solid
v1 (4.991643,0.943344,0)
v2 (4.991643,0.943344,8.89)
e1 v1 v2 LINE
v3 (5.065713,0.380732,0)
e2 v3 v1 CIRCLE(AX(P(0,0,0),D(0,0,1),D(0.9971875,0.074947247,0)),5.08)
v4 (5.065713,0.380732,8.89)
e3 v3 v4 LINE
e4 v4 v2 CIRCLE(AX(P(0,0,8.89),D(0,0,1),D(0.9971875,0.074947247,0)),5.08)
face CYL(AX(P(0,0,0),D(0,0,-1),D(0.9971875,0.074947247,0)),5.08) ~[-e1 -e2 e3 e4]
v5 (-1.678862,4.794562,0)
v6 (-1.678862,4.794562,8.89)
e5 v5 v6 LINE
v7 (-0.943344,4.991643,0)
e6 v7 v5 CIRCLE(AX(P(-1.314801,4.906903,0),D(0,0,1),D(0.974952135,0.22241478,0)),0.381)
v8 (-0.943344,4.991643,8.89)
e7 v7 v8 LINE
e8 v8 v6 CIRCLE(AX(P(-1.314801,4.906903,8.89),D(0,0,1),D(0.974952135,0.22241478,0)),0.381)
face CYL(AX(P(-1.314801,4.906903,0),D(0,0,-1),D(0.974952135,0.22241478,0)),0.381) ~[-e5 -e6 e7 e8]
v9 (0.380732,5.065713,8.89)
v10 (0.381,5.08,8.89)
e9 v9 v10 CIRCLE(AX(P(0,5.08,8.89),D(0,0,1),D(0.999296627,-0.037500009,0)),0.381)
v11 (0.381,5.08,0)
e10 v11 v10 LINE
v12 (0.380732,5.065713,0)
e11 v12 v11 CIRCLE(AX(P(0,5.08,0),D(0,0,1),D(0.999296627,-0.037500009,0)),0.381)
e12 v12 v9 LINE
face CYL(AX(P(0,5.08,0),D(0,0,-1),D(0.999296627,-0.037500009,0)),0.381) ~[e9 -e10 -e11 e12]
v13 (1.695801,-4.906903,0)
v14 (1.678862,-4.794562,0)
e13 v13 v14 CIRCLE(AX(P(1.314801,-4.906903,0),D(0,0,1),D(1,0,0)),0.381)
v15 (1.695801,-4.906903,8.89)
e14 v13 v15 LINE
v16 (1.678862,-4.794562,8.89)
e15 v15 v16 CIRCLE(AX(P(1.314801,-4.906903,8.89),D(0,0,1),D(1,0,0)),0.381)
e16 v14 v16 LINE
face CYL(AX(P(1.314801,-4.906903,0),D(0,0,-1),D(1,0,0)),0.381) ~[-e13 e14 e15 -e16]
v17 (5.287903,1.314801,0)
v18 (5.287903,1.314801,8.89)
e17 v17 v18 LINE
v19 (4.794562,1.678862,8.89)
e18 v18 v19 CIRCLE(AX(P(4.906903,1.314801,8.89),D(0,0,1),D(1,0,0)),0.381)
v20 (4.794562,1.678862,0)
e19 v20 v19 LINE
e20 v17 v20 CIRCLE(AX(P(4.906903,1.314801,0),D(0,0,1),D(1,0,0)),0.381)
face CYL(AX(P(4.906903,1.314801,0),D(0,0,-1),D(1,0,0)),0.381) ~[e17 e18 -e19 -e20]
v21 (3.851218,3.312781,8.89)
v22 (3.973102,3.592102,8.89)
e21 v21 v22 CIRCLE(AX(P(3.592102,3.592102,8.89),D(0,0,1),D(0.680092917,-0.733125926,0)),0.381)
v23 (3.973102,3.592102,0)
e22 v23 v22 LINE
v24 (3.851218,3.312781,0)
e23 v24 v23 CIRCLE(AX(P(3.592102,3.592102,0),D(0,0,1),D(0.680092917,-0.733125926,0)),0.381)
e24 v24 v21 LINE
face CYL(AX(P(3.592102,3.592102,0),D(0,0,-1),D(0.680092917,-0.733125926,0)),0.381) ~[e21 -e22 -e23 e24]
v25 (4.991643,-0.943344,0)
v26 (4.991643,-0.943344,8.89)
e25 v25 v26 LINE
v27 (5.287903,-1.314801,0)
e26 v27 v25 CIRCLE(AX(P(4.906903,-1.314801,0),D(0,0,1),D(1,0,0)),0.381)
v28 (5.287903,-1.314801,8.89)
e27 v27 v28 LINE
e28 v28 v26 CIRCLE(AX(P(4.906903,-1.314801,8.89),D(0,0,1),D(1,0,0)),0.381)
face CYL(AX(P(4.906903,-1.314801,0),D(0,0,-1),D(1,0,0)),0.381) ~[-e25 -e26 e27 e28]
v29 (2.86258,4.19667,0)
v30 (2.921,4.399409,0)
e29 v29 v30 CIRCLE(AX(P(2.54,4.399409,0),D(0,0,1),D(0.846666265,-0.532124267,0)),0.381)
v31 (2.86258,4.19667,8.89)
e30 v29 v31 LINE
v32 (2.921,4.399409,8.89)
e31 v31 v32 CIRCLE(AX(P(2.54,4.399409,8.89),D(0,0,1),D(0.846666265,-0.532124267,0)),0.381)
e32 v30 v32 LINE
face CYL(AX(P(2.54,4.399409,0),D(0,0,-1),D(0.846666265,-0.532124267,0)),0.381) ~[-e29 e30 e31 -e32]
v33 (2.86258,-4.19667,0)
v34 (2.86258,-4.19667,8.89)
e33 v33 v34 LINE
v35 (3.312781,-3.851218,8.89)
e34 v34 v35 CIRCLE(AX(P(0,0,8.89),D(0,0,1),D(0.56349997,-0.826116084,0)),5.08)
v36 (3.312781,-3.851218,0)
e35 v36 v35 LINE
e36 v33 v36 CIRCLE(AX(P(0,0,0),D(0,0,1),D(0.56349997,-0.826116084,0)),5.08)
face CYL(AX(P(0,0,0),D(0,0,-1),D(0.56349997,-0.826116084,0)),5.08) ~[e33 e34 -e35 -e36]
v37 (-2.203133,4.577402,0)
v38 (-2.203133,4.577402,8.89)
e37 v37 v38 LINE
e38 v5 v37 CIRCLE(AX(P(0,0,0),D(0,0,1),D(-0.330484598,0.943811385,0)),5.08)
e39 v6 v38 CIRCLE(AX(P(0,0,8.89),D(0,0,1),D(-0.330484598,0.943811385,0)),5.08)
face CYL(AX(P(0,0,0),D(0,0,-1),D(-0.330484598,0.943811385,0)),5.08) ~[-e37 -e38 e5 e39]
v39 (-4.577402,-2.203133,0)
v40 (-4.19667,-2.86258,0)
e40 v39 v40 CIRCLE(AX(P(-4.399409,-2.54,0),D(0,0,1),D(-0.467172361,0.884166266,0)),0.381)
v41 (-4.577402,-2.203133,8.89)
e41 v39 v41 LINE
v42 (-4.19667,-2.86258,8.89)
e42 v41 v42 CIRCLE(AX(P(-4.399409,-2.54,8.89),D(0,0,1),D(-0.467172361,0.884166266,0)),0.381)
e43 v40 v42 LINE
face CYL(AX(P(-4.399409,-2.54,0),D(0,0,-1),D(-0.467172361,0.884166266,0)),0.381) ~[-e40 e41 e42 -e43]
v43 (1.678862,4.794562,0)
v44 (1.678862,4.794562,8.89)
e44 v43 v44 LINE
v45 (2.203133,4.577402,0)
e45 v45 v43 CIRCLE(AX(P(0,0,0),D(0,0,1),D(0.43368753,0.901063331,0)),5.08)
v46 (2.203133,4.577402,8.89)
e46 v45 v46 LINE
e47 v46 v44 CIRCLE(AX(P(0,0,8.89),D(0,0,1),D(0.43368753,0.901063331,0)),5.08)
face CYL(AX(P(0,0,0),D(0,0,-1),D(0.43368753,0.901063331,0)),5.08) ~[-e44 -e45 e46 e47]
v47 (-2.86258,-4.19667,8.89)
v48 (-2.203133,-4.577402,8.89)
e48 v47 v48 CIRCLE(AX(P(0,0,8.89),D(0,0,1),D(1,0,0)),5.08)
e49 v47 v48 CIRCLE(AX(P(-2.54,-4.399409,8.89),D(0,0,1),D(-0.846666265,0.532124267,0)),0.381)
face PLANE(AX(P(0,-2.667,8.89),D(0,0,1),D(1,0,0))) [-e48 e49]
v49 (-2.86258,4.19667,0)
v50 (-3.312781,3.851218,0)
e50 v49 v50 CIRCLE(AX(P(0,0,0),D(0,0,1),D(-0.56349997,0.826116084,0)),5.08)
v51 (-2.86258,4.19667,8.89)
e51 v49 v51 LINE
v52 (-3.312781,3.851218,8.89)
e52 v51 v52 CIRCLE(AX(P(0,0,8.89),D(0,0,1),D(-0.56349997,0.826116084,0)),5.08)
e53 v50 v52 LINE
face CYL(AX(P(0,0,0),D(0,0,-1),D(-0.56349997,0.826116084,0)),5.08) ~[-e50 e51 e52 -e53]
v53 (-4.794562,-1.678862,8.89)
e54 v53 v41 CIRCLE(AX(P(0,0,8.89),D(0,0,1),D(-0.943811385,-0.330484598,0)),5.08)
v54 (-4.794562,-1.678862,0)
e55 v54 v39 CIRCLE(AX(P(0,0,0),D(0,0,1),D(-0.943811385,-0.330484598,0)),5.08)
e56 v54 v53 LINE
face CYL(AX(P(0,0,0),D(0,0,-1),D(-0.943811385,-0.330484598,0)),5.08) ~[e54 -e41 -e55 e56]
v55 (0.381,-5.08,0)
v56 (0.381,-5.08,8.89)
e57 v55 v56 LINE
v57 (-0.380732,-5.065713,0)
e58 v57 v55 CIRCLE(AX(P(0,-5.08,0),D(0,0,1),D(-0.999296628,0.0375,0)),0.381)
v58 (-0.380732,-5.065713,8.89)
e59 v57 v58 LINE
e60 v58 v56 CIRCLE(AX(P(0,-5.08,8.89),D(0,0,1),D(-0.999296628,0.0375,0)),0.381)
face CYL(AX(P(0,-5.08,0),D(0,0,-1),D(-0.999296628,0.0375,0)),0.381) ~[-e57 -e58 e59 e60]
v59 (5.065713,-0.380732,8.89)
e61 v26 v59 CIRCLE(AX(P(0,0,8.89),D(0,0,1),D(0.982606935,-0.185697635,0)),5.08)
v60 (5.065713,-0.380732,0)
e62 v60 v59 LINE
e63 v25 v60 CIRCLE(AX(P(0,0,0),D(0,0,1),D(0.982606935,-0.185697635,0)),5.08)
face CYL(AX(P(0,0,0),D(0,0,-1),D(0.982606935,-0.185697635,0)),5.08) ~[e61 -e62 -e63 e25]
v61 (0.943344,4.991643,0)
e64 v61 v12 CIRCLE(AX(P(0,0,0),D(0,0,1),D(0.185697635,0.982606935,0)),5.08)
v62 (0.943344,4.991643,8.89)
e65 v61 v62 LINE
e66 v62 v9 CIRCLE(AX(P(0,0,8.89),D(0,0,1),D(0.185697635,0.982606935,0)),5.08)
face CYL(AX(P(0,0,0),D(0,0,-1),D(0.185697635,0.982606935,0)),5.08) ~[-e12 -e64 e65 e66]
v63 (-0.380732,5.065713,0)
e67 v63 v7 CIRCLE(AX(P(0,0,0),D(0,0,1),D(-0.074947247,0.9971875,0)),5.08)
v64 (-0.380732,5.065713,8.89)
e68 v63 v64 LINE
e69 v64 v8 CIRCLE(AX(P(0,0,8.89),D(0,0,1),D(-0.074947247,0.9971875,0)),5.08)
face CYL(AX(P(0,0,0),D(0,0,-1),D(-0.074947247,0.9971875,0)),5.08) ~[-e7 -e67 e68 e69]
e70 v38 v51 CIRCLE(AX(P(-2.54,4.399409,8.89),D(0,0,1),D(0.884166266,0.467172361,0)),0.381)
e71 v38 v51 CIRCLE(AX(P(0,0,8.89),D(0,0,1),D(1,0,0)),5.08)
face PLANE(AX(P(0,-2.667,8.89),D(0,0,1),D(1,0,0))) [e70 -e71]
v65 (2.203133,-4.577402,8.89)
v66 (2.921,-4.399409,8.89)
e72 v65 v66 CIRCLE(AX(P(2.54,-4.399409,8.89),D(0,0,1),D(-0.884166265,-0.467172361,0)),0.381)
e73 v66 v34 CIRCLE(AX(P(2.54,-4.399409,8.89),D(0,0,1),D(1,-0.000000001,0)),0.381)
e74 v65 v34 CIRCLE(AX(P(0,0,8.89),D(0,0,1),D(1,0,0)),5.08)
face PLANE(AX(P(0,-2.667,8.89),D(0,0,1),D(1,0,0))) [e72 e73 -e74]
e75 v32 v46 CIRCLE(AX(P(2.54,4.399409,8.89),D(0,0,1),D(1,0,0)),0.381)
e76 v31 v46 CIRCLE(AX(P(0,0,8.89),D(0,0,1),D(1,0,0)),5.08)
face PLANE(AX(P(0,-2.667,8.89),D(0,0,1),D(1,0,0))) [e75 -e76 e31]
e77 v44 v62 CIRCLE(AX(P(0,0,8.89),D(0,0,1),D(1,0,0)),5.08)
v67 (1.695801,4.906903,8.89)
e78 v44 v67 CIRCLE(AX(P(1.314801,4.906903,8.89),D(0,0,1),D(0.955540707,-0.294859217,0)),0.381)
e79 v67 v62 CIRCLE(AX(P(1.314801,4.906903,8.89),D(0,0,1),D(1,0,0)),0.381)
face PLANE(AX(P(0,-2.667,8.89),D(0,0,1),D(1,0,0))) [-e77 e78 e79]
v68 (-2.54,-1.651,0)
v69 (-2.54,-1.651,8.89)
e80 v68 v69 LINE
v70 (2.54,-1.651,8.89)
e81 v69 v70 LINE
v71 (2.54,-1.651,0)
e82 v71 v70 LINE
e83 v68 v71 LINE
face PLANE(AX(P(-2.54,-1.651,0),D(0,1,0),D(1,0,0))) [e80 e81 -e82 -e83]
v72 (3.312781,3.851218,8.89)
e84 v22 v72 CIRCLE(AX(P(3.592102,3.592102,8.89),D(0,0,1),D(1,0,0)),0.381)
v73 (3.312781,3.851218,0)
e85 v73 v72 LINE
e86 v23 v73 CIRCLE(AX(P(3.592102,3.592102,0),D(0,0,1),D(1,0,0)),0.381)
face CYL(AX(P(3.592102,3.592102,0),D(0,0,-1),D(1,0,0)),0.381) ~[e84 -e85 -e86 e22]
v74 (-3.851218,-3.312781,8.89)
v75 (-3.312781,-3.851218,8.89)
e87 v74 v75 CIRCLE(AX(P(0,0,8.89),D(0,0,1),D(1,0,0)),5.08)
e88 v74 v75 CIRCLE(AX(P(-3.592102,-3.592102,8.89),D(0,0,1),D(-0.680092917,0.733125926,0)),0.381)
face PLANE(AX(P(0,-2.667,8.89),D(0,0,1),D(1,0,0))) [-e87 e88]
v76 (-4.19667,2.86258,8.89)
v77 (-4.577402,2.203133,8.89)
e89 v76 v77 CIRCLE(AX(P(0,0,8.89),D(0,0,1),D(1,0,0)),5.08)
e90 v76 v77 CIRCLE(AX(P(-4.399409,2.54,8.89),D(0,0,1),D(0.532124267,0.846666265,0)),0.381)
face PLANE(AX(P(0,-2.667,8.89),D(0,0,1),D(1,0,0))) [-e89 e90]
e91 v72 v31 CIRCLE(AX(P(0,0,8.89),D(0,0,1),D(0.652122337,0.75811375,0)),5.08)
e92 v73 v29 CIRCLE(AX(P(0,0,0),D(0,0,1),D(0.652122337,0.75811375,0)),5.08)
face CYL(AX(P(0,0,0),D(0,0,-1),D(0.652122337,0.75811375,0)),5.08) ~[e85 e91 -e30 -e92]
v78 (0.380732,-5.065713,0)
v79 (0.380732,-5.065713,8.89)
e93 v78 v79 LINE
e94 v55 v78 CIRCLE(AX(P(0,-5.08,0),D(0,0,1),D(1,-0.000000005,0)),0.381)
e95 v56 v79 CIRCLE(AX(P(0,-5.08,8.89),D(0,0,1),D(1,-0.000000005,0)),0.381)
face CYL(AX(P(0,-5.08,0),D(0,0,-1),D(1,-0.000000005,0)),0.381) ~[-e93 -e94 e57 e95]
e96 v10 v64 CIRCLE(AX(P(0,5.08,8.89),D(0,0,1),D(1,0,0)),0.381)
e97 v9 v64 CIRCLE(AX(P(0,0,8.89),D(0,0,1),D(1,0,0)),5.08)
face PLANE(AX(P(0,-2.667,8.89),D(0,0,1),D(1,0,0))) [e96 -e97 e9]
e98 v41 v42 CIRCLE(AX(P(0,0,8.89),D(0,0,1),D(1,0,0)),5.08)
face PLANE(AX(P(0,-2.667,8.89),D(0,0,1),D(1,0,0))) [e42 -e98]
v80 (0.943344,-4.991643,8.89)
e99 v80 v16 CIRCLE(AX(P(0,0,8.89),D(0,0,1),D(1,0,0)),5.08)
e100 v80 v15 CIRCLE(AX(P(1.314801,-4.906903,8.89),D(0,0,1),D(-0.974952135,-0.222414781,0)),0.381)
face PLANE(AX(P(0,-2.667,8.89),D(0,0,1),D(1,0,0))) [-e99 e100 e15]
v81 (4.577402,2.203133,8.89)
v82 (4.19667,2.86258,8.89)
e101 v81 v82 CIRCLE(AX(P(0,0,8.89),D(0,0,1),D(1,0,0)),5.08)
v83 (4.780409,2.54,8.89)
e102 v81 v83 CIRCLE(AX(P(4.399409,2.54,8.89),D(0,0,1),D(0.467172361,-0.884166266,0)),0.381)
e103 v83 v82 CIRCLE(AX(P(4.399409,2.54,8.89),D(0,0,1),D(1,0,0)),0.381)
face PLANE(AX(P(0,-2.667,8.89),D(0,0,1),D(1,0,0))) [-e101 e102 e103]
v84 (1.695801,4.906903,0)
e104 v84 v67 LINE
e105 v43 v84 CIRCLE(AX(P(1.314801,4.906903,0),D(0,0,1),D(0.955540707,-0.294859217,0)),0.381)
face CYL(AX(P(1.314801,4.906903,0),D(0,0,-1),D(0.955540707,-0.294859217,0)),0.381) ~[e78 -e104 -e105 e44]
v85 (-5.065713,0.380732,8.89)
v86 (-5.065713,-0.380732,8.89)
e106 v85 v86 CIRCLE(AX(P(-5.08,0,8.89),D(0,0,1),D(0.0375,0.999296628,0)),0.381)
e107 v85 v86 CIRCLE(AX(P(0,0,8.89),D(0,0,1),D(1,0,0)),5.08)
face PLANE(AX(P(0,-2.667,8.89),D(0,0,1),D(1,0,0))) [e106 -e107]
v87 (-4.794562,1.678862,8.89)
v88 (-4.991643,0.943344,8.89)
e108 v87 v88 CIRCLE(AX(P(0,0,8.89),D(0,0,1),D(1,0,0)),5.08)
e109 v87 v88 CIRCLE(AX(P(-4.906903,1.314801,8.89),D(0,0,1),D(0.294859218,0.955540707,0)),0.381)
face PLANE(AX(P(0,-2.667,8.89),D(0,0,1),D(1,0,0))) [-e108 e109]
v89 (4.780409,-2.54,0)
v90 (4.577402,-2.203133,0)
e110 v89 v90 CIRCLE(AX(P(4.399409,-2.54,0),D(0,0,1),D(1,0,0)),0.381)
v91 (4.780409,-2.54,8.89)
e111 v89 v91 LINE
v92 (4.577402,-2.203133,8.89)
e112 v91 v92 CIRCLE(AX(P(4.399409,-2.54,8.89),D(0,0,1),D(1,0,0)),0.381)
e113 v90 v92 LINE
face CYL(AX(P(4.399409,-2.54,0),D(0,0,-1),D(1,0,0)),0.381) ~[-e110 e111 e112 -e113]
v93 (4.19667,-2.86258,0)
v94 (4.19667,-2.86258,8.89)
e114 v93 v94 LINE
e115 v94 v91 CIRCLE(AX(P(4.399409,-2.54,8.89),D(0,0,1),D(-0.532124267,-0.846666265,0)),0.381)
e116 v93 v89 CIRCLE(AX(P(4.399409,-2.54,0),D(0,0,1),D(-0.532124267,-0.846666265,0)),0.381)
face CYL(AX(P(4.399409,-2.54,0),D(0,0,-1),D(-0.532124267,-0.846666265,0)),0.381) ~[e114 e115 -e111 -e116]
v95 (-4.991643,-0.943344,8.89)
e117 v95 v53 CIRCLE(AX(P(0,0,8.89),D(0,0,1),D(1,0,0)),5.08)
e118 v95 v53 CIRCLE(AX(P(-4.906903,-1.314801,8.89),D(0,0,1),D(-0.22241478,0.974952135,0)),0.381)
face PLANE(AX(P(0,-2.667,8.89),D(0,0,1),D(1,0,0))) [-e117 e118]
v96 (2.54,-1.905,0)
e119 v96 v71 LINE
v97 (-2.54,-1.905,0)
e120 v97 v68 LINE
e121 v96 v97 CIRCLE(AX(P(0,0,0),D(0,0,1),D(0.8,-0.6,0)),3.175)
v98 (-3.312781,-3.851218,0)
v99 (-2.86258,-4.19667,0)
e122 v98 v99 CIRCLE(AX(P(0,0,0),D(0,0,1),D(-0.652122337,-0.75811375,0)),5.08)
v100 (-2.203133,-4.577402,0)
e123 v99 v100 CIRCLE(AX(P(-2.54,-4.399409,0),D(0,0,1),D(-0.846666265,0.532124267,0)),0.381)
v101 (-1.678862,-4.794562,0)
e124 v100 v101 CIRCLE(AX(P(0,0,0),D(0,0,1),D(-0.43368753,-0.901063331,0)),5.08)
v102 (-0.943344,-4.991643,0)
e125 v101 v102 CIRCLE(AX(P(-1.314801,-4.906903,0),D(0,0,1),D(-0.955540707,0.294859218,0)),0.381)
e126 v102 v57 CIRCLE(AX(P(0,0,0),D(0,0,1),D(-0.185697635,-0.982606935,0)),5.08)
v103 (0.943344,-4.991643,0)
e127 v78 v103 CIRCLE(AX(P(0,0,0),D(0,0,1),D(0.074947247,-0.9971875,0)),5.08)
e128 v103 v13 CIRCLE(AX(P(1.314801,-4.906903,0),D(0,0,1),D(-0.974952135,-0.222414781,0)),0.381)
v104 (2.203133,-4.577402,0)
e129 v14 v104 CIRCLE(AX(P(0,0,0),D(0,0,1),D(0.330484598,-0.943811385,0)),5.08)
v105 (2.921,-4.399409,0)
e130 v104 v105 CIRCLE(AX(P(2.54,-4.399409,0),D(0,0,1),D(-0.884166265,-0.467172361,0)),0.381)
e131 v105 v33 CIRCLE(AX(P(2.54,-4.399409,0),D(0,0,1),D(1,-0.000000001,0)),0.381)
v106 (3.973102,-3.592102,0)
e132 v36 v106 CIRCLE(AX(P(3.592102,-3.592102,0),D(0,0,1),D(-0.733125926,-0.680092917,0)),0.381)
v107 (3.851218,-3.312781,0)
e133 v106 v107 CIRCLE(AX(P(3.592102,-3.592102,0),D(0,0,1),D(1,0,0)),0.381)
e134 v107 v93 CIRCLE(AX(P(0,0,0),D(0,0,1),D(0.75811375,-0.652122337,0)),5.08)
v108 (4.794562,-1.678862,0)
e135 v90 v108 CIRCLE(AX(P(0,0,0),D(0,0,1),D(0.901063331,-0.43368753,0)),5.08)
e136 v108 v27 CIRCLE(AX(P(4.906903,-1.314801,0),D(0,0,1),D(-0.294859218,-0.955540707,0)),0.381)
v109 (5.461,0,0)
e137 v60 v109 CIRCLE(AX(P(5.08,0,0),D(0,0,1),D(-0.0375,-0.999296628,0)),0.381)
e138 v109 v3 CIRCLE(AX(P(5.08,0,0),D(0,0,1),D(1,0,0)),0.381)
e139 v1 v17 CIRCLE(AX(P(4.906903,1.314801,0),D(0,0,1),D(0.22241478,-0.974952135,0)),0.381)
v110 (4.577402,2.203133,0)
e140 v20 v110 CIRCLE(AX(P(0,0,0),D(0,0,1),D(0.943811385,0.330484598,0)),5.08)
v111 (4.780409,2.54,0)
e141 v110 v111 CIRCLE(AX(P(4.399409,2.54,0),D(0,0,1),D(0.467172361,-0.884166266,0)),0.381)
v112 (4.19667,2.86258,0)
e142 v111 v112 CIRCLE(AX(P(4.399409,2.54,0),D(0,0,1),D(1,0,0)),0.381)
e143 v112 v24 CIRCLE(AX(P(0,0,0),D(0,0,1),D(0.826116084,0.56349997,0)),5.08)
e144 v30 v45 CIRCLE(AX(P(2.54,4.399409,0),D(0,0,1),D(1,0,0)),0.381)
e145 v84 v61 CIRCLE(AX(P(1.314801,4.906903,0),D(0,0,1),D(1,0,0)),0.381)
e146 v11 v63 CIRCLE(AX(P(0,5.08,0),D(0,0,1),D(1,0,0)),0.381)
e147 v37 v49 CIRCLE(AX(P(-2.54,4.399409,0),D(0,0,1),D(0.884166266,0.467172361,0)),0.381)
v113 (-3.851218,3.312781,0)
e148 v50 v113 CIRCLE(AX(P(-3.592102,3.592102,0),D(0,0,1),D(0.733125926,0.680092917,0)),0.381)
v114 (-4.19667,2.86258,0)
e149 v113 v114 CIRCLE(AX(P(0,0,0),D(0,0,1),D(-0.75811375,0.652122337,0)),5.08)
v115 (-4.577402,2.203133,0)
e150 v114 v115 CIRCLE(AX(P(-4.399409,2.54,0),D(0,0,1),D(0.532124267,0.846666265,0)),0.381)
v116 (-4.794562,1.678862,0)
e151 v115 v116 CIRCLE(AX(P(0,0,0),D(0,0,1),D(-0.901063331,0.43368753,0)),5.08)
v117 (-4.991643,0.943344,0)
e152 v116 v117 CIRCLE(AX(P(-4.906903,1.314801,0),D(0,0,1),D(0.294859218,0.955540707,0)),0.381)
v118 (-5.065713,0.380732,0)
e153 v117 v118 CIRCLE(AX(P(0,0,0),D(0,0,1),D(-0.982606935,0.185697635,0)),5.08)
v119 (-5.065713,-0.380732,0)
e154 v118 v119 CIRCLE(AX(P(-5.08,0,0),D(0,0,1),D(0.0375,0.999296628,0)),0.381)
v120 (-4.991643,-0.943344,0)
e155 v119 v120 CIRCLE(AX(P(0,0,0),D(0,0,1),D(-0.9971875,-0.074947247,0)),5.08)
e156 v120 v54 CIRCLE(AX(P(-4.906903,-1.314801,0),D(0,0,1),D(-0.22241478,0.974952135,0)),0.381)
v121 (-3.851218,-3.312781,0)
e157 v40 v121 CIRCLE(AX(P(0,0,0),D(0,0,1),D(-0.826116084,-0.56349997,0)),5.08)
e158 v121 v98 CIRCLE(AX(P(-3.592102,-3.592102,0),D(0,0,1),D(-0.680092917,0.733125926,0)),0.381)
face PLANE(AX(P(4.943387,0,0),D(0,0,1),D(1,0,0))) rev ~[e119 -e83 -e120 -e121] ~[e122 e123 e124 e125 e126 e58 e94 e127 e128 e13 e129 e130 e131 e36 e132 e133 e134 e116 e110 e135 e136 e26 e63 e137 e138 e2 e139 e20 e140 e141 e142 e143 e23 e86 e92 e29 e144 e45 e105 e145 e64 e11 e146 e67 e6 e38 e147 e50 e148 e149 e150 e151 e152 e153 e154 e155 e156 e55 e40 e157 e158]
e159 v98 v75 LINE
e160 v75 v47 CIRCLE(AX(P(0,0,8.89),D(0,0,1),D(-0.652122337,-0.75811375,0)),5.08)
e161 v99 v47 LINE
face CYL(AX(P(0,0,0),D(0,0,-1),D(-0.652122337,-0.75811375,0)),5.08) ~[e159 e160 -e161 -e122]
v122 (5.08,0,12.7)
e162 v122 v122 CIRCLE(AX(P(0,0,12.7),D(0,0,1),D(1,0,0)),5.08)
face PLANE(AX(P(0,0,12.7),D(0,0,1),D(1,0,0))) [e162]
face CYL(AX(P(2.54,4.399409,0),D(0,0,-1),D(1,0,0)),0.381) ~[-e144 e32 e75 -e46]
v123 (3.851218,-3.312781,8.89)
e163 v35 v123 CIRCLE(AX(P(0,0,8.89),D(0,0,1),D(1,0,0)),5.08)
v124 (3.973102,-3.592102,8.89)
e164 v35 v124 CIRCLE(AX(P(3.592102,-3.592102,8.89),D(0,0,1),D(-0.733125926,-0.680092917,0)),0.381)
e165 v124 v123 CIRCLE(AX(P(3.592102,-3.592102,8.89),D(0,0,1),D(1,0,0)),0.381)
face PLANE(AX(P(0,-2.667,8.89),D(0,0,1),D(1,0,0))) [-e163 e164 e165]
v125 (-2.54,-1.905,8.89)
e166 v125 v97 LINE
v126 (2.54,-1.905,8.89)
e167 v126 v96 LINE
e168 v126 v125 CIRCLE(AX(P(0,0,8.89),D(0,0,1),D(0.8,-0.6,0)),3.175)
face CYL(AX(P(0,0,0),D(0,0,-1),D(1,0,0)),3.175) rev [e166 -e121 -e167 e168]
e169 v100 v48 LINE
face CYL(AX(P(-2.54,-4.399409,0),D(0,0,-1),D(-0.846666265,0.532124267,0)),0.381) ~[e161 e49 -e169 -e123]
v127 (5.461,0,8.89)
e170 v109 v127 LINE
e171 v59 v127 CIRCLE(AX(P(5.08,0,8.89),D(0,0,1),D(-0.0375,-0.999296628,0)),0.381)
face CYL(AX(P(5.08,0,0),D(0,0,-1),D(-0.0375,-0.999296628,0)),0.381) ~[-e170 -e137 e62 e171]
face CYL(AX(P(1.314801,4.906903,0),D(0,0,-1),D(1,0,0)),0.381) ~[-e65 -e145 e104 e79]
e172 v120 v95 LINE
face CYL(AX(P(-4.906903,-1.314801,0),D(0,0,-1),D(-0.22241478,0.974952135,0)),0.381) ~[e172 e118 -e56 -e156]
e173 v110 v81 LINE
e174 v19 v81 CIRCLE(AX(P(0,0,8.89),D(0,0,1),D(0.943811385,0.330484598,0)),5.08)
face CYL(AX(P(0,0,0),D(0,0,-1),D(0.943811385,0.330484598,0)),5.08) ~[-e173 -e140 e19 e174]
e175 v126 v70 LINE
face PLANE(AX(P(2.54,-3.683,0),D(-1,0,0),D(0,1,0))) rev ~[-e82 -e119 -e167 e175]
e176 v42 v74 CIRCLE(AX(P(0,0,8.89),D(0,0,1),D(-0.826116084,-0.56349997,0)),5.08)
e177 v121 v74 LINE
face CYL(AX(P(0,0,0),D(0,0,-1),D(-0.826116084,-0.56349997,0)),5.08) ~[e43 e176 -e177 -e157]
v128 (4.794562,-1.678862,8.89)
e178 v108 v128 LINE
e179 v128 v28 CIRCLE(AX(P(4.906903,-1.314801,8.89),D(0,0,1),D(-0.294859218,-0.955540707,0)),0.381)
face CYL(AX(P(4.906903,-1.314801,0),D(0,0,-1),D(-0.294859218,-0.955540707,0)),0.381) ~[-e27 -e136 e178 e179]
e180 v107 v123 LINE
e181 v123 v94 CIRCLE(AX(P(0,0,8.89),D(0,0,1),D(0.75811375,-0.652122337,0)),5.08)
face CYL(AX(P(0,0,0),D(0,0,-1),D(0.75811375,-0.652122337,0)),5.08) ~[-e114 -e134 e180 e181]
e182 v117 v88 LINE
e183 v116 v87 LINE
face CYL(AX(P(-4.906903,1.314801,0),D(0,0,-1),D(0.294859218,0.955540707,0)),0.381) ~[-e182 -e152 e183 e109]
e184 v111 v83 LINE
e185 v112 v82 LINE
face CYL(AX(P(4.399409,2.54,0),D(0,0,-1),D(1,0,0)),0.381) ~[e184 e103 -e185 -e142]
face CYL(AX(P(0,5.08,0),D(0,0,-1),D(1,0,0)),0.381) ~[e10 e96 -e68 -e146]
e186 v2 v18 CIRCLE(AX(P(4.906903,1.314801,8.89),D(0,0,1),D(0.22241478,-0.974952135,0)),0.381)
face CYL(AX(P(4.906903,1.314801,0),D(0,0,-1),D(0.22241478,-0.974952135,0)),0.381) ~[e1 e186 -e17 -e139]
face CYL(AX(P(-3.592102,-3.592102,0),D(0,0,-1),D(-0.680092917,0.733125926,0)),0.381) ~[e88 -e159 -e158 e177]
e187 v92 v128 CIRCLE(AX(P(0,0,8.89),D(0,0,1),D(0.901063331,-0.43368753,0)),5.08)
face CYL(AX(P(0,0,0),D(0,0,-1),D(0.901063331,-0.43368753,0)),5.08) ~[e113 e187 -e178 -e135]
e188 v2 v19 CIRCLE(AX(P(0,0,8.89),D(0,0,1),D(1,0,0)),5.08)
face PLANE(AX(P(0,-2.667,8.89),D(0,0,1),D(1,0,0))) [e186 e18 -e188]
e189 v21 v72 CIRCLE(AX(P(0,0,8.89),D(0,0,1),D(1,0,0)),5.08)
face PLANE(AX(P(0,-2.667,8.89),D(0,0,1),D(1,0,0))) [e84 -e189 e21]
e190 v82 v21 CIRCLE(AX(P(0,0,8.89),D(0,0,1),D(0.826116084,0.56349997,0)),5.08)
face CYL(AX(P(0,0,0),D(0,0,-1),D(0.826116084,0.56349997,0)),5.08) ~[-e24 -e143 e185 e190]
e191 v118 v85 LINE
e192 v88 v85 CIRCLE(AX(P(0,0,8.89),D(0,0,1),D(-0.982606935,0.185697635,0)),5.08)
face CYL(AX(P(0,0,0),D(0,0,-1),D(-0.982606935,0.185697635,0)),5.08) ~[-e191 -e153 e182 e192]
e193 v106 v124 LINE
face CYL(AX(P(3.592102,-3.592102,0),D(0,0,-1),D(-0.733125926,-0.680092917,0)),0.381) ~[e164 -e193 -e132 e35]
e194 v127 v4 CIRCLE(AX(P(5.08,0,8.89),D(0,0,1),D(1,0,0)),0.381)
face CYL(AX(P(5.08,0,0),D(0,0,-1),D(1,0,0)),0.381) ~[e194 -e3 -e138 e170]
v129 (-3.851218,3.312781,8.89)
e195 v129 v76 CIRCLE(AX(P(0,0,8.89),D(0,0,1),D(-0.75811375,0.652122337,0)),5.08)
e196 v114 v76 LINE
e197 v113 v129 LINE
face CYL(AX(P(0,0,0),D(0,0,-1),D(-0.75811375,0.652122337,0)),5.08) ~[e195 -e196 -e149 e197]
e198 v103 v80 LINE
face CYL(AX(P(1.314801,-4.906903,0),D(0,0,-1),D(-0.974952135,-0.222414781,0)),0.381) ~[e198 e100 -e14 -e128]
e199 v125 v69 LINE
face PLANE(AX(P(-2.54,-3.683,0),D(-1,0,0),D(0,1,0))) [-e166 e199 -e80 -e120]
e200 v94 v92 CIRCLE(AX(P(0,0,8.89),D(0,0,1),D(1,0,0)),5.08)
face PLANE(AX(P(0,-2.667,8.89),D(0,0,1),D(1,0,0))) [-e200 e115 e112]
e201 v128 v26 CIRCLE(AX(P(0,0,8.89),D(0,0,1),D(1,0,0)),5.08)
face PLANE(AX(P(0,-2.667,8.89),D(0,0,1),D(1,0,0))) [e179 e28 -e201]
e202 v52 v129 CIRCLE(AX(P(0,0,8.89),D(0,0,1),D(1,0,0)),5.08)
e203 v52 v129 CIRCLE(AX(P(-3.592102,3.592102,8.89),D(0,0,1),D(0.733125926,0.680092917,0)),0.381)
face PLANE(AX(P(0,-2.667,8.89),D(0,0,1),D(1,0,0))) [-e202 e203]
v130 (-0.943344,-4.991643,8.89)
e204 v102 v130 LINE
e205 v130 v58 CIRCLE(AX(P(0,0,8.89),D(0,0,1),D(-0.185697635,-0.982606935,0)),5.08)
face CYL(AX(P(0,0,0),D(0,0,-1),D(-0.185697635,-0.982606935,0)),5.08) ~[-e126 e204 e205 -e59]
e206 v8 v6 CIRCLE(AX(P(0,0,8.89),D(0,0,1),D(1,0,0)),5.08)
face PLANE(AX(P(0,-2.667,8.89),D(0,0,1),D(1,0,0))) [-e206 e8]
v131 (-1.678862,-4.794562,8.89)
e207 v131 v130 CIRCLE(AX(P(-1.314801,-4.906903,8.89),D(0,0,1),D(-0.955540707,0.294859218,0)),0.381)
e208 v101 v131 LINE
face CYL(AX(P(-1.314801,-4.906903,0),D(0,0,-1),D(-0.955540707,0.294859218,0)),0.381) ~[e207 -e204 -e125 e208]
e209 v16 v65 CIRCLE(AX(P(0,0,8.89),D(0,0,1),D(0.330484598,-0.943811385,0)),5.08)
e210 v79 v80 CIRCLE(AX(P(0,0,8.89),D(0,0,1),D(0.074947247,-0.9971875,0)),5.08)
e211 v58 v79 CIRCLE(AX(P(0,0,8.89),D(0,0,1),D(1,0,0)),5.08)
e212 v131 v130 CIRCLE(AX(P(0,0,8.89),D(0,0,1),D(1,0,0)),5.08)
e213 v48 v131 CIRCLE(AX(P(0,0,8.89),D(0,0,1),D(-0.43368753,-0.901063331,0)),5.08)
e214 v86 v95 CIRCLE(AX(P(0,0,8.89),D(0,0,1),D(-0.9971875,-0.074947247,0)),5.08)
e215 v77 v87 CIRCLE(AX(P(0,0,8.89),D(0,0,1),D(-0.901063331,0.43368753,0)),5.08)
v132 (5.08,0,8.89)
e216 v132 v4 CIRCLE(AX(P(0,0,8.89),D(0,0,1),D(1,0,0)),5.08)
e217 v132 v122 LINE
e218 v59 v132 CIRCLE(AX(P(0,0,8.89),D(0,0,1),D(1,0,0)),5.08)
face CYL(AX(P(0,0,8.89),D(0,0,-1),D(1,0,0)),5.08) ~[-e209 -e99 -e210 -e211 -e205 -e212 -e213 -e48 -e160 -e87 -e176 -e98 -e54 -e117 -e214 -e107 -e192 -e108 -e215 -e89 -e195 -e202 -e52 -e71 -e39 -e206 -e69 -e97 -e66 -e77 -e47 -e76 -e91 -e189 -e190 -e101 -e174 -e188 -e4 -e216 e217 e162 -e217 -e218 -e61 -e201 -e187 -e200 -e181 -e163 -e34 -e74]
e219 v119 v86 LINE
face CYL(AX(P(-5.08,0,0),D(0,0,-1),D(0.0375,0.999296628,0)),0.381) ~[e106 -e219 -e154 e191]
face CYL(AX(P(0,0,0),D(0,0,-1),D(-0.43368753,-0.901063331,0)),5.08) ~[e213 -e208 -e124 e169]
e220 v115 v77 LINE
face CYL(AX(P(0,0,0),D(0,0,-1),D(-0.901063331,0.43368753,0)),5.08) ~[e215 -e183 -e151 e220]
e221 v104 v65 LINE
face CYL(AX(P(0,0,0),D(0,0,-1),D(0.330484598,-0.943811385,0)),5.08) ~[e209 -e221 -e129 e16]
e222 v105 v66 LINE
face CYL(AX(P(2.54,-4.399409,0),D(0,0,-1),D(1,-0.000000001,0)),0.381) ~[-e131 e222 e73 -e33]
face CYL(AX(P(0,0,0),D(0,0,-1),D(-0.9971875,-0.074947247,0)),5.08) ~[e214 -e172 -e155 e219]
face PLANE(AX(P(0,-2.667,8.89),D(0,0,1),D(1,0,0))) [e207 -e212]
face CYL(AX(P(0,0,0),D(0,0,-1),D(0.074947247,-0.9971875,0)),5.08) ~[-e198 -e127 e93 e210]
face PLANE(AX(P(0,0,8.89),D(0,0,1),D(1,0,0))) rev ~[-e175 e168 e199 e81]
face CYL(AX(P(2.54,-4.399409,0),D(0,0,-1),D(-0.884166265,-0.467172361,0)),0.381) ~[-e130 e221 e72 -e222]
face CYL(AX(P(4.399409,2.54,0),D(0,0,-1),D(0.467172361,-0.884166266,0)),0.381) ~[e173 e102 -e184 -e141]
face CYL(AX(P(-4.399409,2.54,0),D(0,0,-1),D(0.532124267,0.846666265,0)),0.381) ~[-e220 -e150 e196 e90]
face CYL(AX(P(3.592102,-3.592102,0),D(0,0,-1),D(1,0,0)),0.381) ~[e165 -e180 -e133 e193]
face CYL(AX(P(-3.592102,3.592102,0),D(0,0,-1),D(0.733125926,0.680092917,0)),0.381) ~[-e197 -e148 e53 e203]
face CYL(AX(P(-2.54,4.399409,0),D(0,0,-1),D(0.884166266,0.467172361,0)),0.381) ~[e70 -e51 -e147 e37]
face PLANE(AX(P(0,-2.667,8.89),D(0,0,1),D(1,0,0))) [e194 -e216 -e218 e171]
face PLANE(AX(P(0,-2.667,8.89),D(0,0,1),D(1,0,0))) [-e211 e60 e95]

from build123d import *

# Parameters (mm, degrees)
F0_R     = 3.175
F2_DEPTH = 8.89
F1_W     = 5.08
F1_H     = 2.032
F3_DEPTH = 8.89
F5_R     = 5.08
F6_DEPTH = 3.81


with BuildPart() as f2:
    # F0 (on Top) → F2 (new body)
    with BuildSketch(Plane.XY):
        with BuildLine():
            ThreePointArc((5.0657125, -0.3807320151), (5.0764268684, -0.1905), (5.08, 0))
            ThreePointArc((5.08, 0), (5.0764268684, 0.1905), (5.0657125, 0.3807320151))
            ThreePointArc((5.0657125, 0.3807320151), (4.699, 0), (5.0657125, -0.3807320151))
        make_face()
        with BuildLine():
            ThreePointArc((5.0657125, 0.3807320151), (5.0764268684, 0.1905), (5.08, 0))
            ThreePointArc((5.08, 0), (5.0764268684, -0.1905), (5.0657125, -0.3807320151))
            ThreePointArc((5.0657125, -0.3807320151), (5.3443080234, -0.2744125885), (5.461, 0))
            ThreePointArc((5.461, 0), (5.3443080234, 0.2744125885), (5.0657125, 0.3807320151))
        make_face()
        with BuildLine():
            ThreePointArc((5.0657125, -0.3807320151), (4.699, 0), (5.0657125, 0.3807320151))
            ThreePointArc((5.0657125, 0.3807320151), (5.0365398958, 0.6630730565), (4.9916432289, 0.9433439857))
            ThreePointArc((4.9916432289, 0.9433439857), (4.5388854577, 1.2161906929), (4.7945618357, 1.6788617583))
            ThreePointArc((4.7945618357, 1.6788617583), (4.6933080252, 1.9440318364), (4.5774017208, 2.2031326529))
            ThreePointArc((4.5774017208, 2.2031326529), (4.0694533724, 2.3495), (4.1966697057, 2.8625798471))
            ThreePointArc((4.1966697057, 2.8625798471), (4.0302349687, 3.0925080594), (3.85121785, 3.3127814706))
            ThreePointArc((3.85121785, 3.3127814706), (3.3226947648, 3.3226947648), (3.3127814706, 3.85121785))
            ThreePointArc((3.3127814706, 3.85121785), (3.0925080594, 4.0302349687), (2.8625798471, 4.1966697057))
            ThreePointArc((2.8625798471, 4.1966697057), (2.3495, 4.0694533724), (2.2031326529, 4.5774017208))
            ThreePointArc((2.2031326529, 4.5774017208), (1.9440318364, 4.6933080252), (1.6788617583, 4.7945618357))
            ThreePointArc((1.6788617583, 4.7945618357), (1.2161906929, 4.5388854577), (0.9433439857, 4.9916432289))
            ThreePointArc((0.9433439857, 4.9916432289), (0.6630730565, 5.0365398958), (0.3807320151, 5.0657125))
            ThreePointArc((0.3807320151, 5.0657125), (0, 4.699), (-0.3807320151, 5.0657125))
            ThreePointArc((-0.3807320151, 5.0657125), (-0.6630730565, 5.0365398958), (-0.9433439857, 4.9916432289))
            ThreePointArc((-0.9433439857, 4.9916432289), (-0.9361940753, 4.9495410513), (-0.9338007491, 4.9069031975))
            ThreePointArc((-0.9338007491, 4.9069031975), (-1.2579951354, 4.5301617448), (-1.6788617583, 4.7945618357))
            ThreePointArc((-1.6788617583, 4.7945618357), (-1.9440318364, 4.6933080252), (-2.2031326529, 4.5774017208))
            ThreePointArc((-2.2031326529, 4.5774017208), (-2.1701977155, 4.4911002197), (-2.159, 4.3994090512))
            ThreePointArc((-2.159, 4.3994090512), (-2.4345057389, 4.0333052942), (-2.8625798471, 4.1966697057))
            ThreePointArc((-2.8625798471, 4.1966697057), (-3.0925080594, 4.0302349687), (-3.3127814706, 3.85121785))
            ThreePointArc((-3.3127814706, 3.85121785), (-3.2374319728, 3.7312780703), (-3.2111024484, 3.5921024484))
            ThreePointArc((-3.2111024484, 3.5921024484), (-3.439724576, 3.242900524), (-3.85121785, 3.3127814706))
            ThreePointArc((-3.85121785, 3.3127814706), (-4.0302349687, 3.0925080594), (-4.1966697057, 2.8625798471))
            ThreePointArc((-4.1966697057, 2.8625798471), (-4.0659388947, 2.7242787418), (-4.0184090512, 2.54))
            ThreePointArc((-4.0184090512, 2.54), (-4.2027547951, 2.2136748499), (-4.5774017208, 2.2031326529))
            ThreePointArc((-4.5774017208, 2.2031326529), (-4.6933080252, 1.9440318364), (-4.7945618357, 1.6788617583))
            ThreePointArc((-4.7945618357, 1.6788617583), (-4.6003391269, 1.5410295505), (-4.5259031975, 1.3148007491))
            ThreePointArc((-4.5259031975, 1.3148007491), (-4.6693373666, 1.0169358872), (-4.9916432289, 0.9433439857))
            ThreePointArc((-4.9916432289, 0.9433439857), (-5.0365398958, 0.6630730565), (-5.0657125, 0.3807320151))
            ThreePointArc((-5.0657125, 0.3807320151), (-4.8055874115, 0.2643080234), (-4.699, 0))
            ThreePointArc((-4.699, 0), (-4.8055874115, -0.2643080234), (-5.0657125, -0.3807320151))
            ThreePointArc((-5.0657125, -0.3807320151), (-5.0365398958, -0.6630730565), (-4.9916432289, -0.9433439857))
            ThreePointArc((-4.9916432289, -0.9433439857), (-4.6693373666, -1.0169358872), (-4.5259031975, -1.3148007491))
            ThreePointArc((-4.5259031975, -1.3148007491), (-4.6003391269, -1.5410295505), (-4.7945618357, -1.6788617583))
            ThreePointArc((-4.7945618357, -1.6788617583), (-4.6933080252, -1.9440318364), (-4.5774017208, -2.2031326529))
            ThreePointArc((-4.5774017208, -2.2031326529), (-4.2027547951, -2.2136748499), (-4.0184090512, -2.54))
            ThreePointArc((-4.0184090512, -2.54), (-4.0659388947, -2.7242787418), (-4.1966697057, -2.8625798471))
            ThreePointArc((-4.1966697057, -2.8625798471), (-4.0302349687, -3.0925080594), (-3.85121785, -3.3127814706))
            ThreePointArc((-3.85121785, -3.3127814706), (-3.439724576, -3.242900524), (-3.2111024484, -3.5921024484))
            ThreePointArc((-3.2111024484, -3.5921024484), (-3.2374319728, -3.7312780703), (-3.3127814706, -3.85121785))
            ThreePointArc((-3.3127814706, -3.85121785), (-3.0925080594, -4.0302349687), (-2.8625798471, -4.1966697057))
            ThreePointArc((-2.8625798471, -4.1966697057), (-2.4345057389, -4.0333052942), (-2.159, -4.3994090512))
            ThreePointArc((-2.159, -4.3994090512), (-2.1701977155, -4.4911002197), (-2.2031326529, -4.5774017208))
            ThreePointArc((-2.2031326529, -4.5774017208), (-1.9440318364, -4.6933080252), (-1.6788617583, -4.7945618357))
            ThreePointArc((-1.6788617583, -4.7945618357), (-1.2579951354, -4.5301617448), (-0.9338007491, -4.9069031975))
            ThreePointArc((-0.9338007491, -4.9069031975), (-0.9361940753, -4.9495410513), (-0.9433439857, -4.9916432289))
            ThreePointArc((-0.9433439857, -4.9916432289), (-0.6630730565, -5.0365398958), (-0.3807320151, -5.0657125))
            ThreePointArc((-0.3807320151, -5.0657125), (0, -4.699), (0.3807320151, -5.0657125))
            ThreePointArc((0.3807320151, -5.0657125), (0.6630730565, -5.0365398958), (0.9433439857, -4.9916432289))
            ThreePointArc((0.9433439857, -4.9916432289), (1.2161906929, -4.5388854577), (1.6788617583, -4.7945618357))
            ThreePointArc((1.6788617583, -4.7945618357), (1.9440318364, -4.6933080252), (2.2031326529, -4.5774017208))
            ThreePointArc((2.2031326529, -4.5774017208), (2.3495, -4.0694533724), (2.8625798471, -4.1966697057))
            ThreePointArc((2.8625798471, -4.1966697057), (3.0925080594, -4.0302349687), (3.3127814706, -3.85121785))
            ThreePointArc((3.3127814706, -3.85121785), (3.3226947648, -3.3226947648), (3.85121785, -3.3127814706))
            ThreePointArc((3.85121785, -3.3127814706), (4.0302349687, -3.0925080594), (4.1966697057, -2.8625798471))
            ThreePointArc((4.1966697057, -2.8625798471), (4.0694533724, -2.3495), (4.5774017208, -2.2031326529))
            ThreePointArc((4.5774017208, -2.2031326529), (4.6933080252, -1.9440318364), (4.7945618357, -1.6788617583))
            ThreePointArc((4.7945618357, -1.6788617583), (4.5388854577, -1.2161906929), (4.9916432289, -0.9433439857))
            ThreePointArc((4.9916432289, -0.9433439857), (5.0365398958, -0.6630730565), (5.0657125, -0.3807320151))
        make_face()
        Circle(F0_R, mode=Mode.SUBTRACT)
        with BuildLine():
            ThreePointArc((4.7945618357, 1.6788617583), (4.5388854577, 1.2161906929), (4.9916432289, 0.9433439857))
            ThreePointArc((4.9916432289, 0.9433439857), (4.9069031975, 1.3148007491), (4.7945618357, 1.6788617583))
        make_face()
        with BuildLine():
            ThreePointArc((4.7945618357, 1.6788617583), (4.9069031975, 1.3148007491), (4.9916432289, 0.9433439857))
            ThreePointArc((4.9916432289, 0.9433439857), (5.2047680595, 1.0772349182), (5.2879031975, 1.3148007491))
            ThreePointArc((5.2879031975, 1.3148007491), (5.1331319989, 1.6213648198), (4.7945618357, 1.6788617583))
        make_face()
        with BuildLine():
            ThreePointArc((5.2879031975, -1.3148007491), (5.2047680595, -1.0772349182), (4.9916432289, -0.9433439857))
            ThreePointArc((4.9916432289, -0.9433439857), (4.9069031975, -1.3148007491), (4.7945618357, -1.6788617583))
            ThreePointArc((4.7945618357, -1.6788617583), (5.1331319989, -1.6213648198), (5.2879031975, -1.3148007491))
        make_face()
        with BuildLine():
            ThreePointArc((4.7945618357, -1.6788617583), (4.9069031975, -1.3148007491), (4.9916432289, -0.9433439857))
            ThreePointArc((4.9916432289, -0.9433439857), (4.5388854577, -1.2161906929), (4.7945618357, -1.6788617583))
        make_face()
        with BuildLine():
            ThreePointArc((4.1966697057, 2.8625798471), (4.0694533724, 2.3495), (4.5774017208, 2.2031326529))
            ThreePointArc((4.5774017208, 2.2031326529), (4.3994090512, 2.54), (4.1966697057, 2.8625798471))
        make_face()
        with BuildLine():
            ThreePointArc((4.1966697057, 2.8625798471), (4.3994090512, 2.54), (4.5774017208, 2.2031326529))
            ThreePointArc((4.5774017208, 2.2031326529), (4.7257342013, 2.3433457439), (4.7804090512, 2.54))
            ThreePointArc((4.7804090512, 2.54), (4.583687793, 2.8734701566), (4.1966697057, 2.8625798471))
        make_face()
        with BuildLine():
            ThreePointArc((4.7804090512, -2.54), (4.7257342013, -2.3433457439), (4.5774017208, -2.2031326529))
            ThreePointArc((4.5774017208, -2.2031326529), (4.3994090512, -2.54), (4.1966697057, -2.8625798471))
            ThreePointArc((4.1966697057, -2.8625798471), (4.583687793, -2.8734701566), (4.7804090512, -2.54))
        make_face()
        with BuildLine():
            ThreePointArc((4.1966697057, -2.8625798471), (4.3994090512, -2.54), (4.5774017208, -2.2031326529))
            ThreePointArc((4.5774017208, -2.2031326529), (4.0694533724, -2.3495), (4.1966697057, -2.8625798471))
        make_face()
        with BuildLine():
            ThreePointArc((3.3127814706, 3.85121785), (3.3226947648, 3.3226947648), (3.85121785, 3.3127814706))
            ThreePointArc((3.85121785, 3.3127814706), (3.5921024484, 3.5921024484), (3.3127814706, 3.85121785))
        make_face()
        with BuildLine():
            ThreePointArc((3.3127814706, 3.85121785), (3.5921024484, 3.5921024484), (3.85121785, 3.3127814706))
            ThreePointArc((3.85121785, 3.3127814706), (3.9413043728, 3.439724576), (3.9731024484, 3.5921024484))
            ThreePointArc((3.9731024484, 3.5921024484), (3.7312780703, 3.9467729241), (3.3127814706, 3.85121785))
        make_face()
        with BuildLine():
            ThreePointArc((3.9731024484, -3.5921024484), (3.9413043728, -3.439724576), (3.85121785, -3.3127814706))
            ThreePointArc((3.85121785, -3.3127814706), (3.5921024484, -3.5921024484), (3.3127814706, -3.85121785))
            ThreePointArc((3.3127814706, -3.85121785), (3.7312780703, -3.9467729241), (3.9731024484, -3.5921024484))
        make_face()
        with BuildLine():
            ThreePointArc((3.3127814706, -3.85121785), (3.5921024484, -3.5921024484), (3.85121785, -3.3127814706))
            ThreePointArc((3.85121785, -3.3127814706), (3.3226947648, -3.3226947648), (3.3127814706, -3.85121785))
        make_face()
        with BuildLine():
            ThreePointArc((2.2031326529, 4.5774017208), (2.3495, 4.0694533724), (2.8625798471, 4.1966697057))
            ThreePointArc((2.8625798471, 4.1966697057), (2.54, 4.3994090512), (2.2031326529, 4.5774017208))
        make_face()
        with BuildLine():
            ThreePointArc((2.2031326529, 4.5774017208), (2.54, 4.3994090512), (2.8625798471, 4.1966697057))
            ThreePointArc((2.8625798471, 4.1966697057), (2.906103757, 4.2939147901), (2.921, 4.3994090512))
            ThreePointArc((2.921, 4.3994090512), (2.6316911684, 4.7692113357), (2.2031326529, 4.5774017208))
        make_face()
        with BuildLine():
            ThreePointArc((2.921, -4.3994090512), (2.906103757, -4.2939147901), (2.8625798471, -4.1966697057))
            ThreePointArc((2.8625798471, -4.1966697057), (2.54, -4.3994090512), (2.2031326529, -4.5774017208))
            ThreePointArc((2.2031326529, -4.5774017208), (2.6316911684, -4.7692113357), (2.921, -4.3994090512))
        make_face()
        with BuildLine():
            ThreePointArc((2.2031326529, -4.5774017208), (2.54, -4.3994090512), (2.8625798471, -4.1966697057))
            ThreePointArc((2.8625798471, -4.1966697057), (2.3495, -4.0694533724), (2.2031326529, -4.5774017208))
        make_face()
        with BuildLine():
            ThreePointArc((0.9433439857, 4.9916432289), (1.2161906929, 4.5388854577), (1.6788617583, 4.7945618357))
            ThreePointArc((1.6788617583, 4.7945618357), (1.3148007491, 4.9069031975), (0.9433439857, 4.9916432289))
        make_face()
        with BuildLine():
            ThreePointArc((0.9433439857, 4.9916432289), (1.3148007491, 4.9069031975), (1.6788617583, 4.7945618357))
            ThreePointArc((1.6788617583, 4.7945618357), (1.6915422019, 4.8500975839), (1.6958007491, 4.9069031975))
            ThreePointArc((1.6958007491, 4.9069031975), (1.3574386028, 5.2855098713), (0.9433439857, 4.9916432289))
        make_face()
        with BuildLine():
            ThreePointArc((1.6958007491, -4.9069031975), (1.6915422019, -4.8500975839), (1.6788617583, -4.7945618357))
            ThreePointArc((1.6788617583, -4.7945618357), (1.3148007491, -4.9069031975), (0.9433439857, -4.9916432289))
            ThreePointArc((0.9433439857, -4.9916432289), (1.3574386028, -5.2855098713), (1.6958007491, -4.9069031975))
        make_face()
        with BuildLine():
            ThreePointArc((0.9433439857, -4.9916432289), (1.3148007491, -4.9069031975), (1.6788617583, -4.7945618357))
            ThreePointArc((1.6788617583, -4.7945618357), (1.2161906929, -4.5388854577), (0.9433439857, -4.9916432289))
        make_face()
        with BuildLine():
            ThreePointArc((-0.3807320151, 5.0657125), (0, 4.699), (0.3807320151, 5.0657125))
            ThreePointArc((0.3807320151, 5.0657125), (0, 5.08), (-0.3807320151, 5.0657125))
        make_face()
        with BuildLine():
            ThreePointArc((-0.3807320151, 5.0657125), (0, 5.08), (0.3807320151, 5.0657125))
            ThreePointArc((0.3807320151, 5.0657125), (0.3809329979, 5.0728549935), (0.381, 5.08))
            ThreePointArc((0.381, 5.08), (-0.0071450065, 5.4609329979), (-0.3807320151, 5.0657125))
        make_face()
        with BuildLine():
            ThreePointArc((0.381, -5.08), (0.3809329979, -5.0728549935), (0.3807320151, -5.0657125))
            ThreePointArc((0.3807320151, -5.0657125), (0, -5.08), (-0.3807320151, -5.0657125))
            ThreePointArc((-0.3807320151, -5.0657125), (-0.0071450065, -5.4609329979), (0.381, -5.08))
        make_face()
        with BuildLine():
            ThreePointArc((-0.3807320151, -5.0657125), (0, -5.08), (0.3807320151, -5.0657125))
            ThreePointArc((0.3807320151, -5.0657125), (0, -4.699), (-0.3807320151, -5.0657125))
        make_face()
        with BuildLine():
            ThreePointArc((-0.9338007491, 4.9069031975), (-0.9361940753, 4.9495410513), (-0.9433439857, 4.9916432289))
            ThreePointArc((-0.9433439857, 4.9916432289), (-1.3148007491, 4.9069031975), (-1.6788617583, 4.7945618357))
            ThreePointArc((-1.6788617583, 4.7945618357), (-1.2579951354, 4.5301617448), (-0.9338007491, 4.9069031975))
        make_face()
        with BuildLine():
            ThreePointArc((-1.6788617583, 4.7945618357), (-1.3148007491, 4.9069031975), (-0.9433439857, 4.9916432289))
            ThreePointArc((-0.9433439857, 4.9916432289), (-1.4134108053, 5.2749209374), (-1.6788617583, 4.7945618357))
        make_face()
        with BuildLine():
            ThreePointArc((-1.6788617583, -4.7945618357), (-1.4134108053, -5.2749209374), (-0.9433439857, -4.9916432289))
            ThreePointArc((-0.9433439857, -4.9916432289), (-1.3148007491, -4.9069031975), (-1.6788617583, -4.7945618357))
        make_face()
        with BuildLine():
            ThreePointArc((-1.6788617583, -4.7945618357), (-1.3148007491, -4.9069031975), (-0.9433439857, -4.9916432289))
            ThreePointArc((-0.9433439857, -4.9916432289), (-0.9361940753, -4.9495410513), (-0.9338007491, -4.9069031975))
            ThreePointArc((-0.9338007491, -4.9069031975), (-1.2579951354, -4.5301617448), (-1.6788617583, -4.7945618357))
        make_face()
        with BuildLine():
            ThreePointArc((-2.159, 4.3994090512), (-2.1701977155, 4.4911002197), (-2.2031326529, 4.5774017208))
            ThreePointArc((-2.2031326529, 4.5774017208), (-2.54, 4.3994090512), (-2.8625798471, 4.1966697057))
            ThreePointArc((-2.8625798471, 4.1966697057), (-2.4345057389, 4.0333052942), (-2.159, 4.3994090512))
        make_face()
        with BuildLine():
            ThreePointArc((-2.8625798471, 4.1966697057), (-2.54, 4.3994090512), (-2.2031326529, 4.5774017208))
            ThreePointArc((-2.2031326529, 4.5774017208), (-2.7305, 4.7293647301), (-2.8625798471, 4.1966697057))
        make_face()
        with BuildLine():
            ThreePointArc((-2.8625798471, -4.1966697057), (-2.7305, -4.7293647301), (-2.2031326529, -4.5774017208))
            ThreePointArc((-2.2031326529, -4.5774017208), (-2.54, -4.3994090512), (-2.8625798471, -4.1966697057))
        make_face()
        with BuildLine():
            ThreePointArc((-2.8625798471, -4.1966697057), (-2.54, -4.3994090512), (-2.2031326529, -4.5774017208))
            ThreePointArc((-2.2031326529, -4.5774017208), (-2.1701977155, -4.4911002197), (-2.159, -4.3994090512))
            ThreePointArc((-2.159, -4.3994090512), (-2.4345057389, -4.0333052942), (-2.8625798471, -4.1966697057))
        make_face()
        with BuildLine():
            ThreePointArc((-3.2111024484, 3.5921024484), (-3.2374319728, 3.7312780703), (-3.3127814706, 3.85121785))
            ThreePointArc((-3.3127814706, 3.85121785), (-3.5921024484, 3.5921024484), (-3.85121785, 3.3127814706))
            ThreePointArc((-3.85121785, 3.3127814706), (-3.439724576, 3.242900524), (-3.2111024484, 3.5921024484))
        make_face()
        with BuildLine():
            ThreePointArc((-3.85121785, 3.3127814706), (-3.5921024484, 3.5921024484), (-3.3127814706, 3.85121785))
            ThreePointArc((-3.3127814706, 3.85121785), (-3.8615101321, 3.8615101321), (-3.85121785, 3.3127814706))
        make_face()
        with BuildLine():
            ThreePointArc((-3.85121785, -3.3127814706), (-3.8615101321, -3.8615101321), (-3.3127814706, -3.85121785))
            ThreePointArc((-3.3127814706, -3.85121785), (-3.5921024484, -3.5921024484), (-3.85121785, -3.3127814706))
        make_face()
        with BuildLine():
            ThreePointArc((-3.85121785, -3.3127814706), (-3.5921024484, -3.5921024484), (-3.3127814706, -3.85121785))
            ThreePointArc((-3.3127814706, -3.85121785), (-3.2374319728, -3.7312780703), (-3.2111024484, -3.5921024484))
            ThreePointArc((-3.2111024484, -3.5921024484), (-3.439724576, -3.242900524), (-3.85121785, -3.3127814706))
        make_face()
        with BuildLine():
            ThreePointArc((-4.0184090512, 2.54), (-4.0659388947, 2.7242787418), (-4.1966697057, 2.8625798471))
            ThreePointArc((-4.1966697057, 2.8625798471), (-4.3994090512, 2.54), (-4.5774017208, 2.2031326529))
            ThreePointArc((-4.5774017208, 2.2031326529), (-4.2027547951, 2.2136748499), (-4.0184090512, 2.54))
        make_face()
        with BuildLine():
            ThreePointArc((-4.5774017208, 2.2031326529), (-4.3994090512, 2.54), (-4.1966697057, 2.8625798471))
            ThreePointArc((-4.1966697057, 2.8625798471), (-4.7293647301, 2.7305), (-4.5774017208, 2.2031326529))
        make_face()
        with BuildLine():
            ThreePointArc((-4.5774017208, -2.2031326529), (-4.7293647301, -2.7305), (-4.1966697057, -2.8625798471))
            ThreePointArc((-4.1966697057, -2.8625798471), (-4.3994090512, -2.54), (-4.5774017208, -2.2031326529))
        make_face()
        with BuildLine():
            ThreePointArc((-4.5774017208, -2.2031326529), (-4.3994090512, -2.54), (-4.1966697057, -2.8625798471))
            ThreePointArc((-4.1966697057, -2.8625798471), (-4.0659388947, -2.7242787418), (-4.0184090512, -2.54))
            ThreePointArc((-4.0184090512, -2.54), (-4.2027547951, -2.2136748499), (-4.5774017208, -2.2031326529))
        make_face()
        with BuildLine():
            ThreePointArc((-4.5259031975, 1.3148007491), (-4.6003391269, 1.5410295505), (-4.7945618357, 1.6788617583))
            ThreePointArc((-4.7945618357, 1.6788617583), (-4.9069031975, 1.3148007491), (-4.9916432289, 0.9433439857))
            ThreePointArc((-4.9916432289, 0.9433439857), (-4.6693373666, 1.0169358872), (-4.5259031975, 1.3148007491))
        make_face()
        with BuildLine():
            ThreePointArc((-4.9916432289, 0.9433439857), (-4.9069031975, 1.3148007491), (-4.7945618357, 1.6788617583))
            ThreePointArc((-4.7945618357, 1.6788617583), (-5.2749209374, 1.4134108053), (-4.9916432289, 0.9433439857))
        make_face()
        with BuildLine():
            ThreePointArc((-4.9916432289, -0.9433439857), (-5.2749209374, -1.4134108053), (-4.7945618357, -1.6788617583))
            ThreePointArc((-4.7945618357, -1.6788617583), (-4.9069031975, -1.3148007491), (-4.9916432289, -0.9433439857))
        make_face()
        with BuildLine():
            ThreePointArc((-4.9916432289, -0.9433439857), (-4.9069031975, -1.3148007491), (-4.7945618357, -1.6788617583))
            ThreePointArc((-4.7945618357, -1.6788617583), (-4.6003391269, -1.5410295505), (-4.5259031975, -1.3148007491))
            ThreePointArc((-4.5259031975, -1.3148007491), (-4.6693373666, -1.0169358872), (-4.9916432289, -0.9433439857))
        make_face()
        with BuildLine():
            ThreePointArc((-4.699, 0), (-4.8055874115, 0.2643080234), (-5.0657125, 0.3807320151))
            ThreePointArc((-5.0657125, 0.3807320151), (-5.08, 0), (-5.0657125, -0.3807320151))
            ThreePointArc((-5.0657125, -0.3807320151), (-4.8055874115, -0.2643080234), (-4.699, 0))
        make_face()
        with BuildLine():
            ThreePointArc((-5.0657125, -0.3807320151), (-5.08, 0), (-5.0657125, 0.3807320151))
            ThreePointArc((-5.0657125, 0.3807320151), (-5.461, 0), (-5.0657125, -0.3807320151))
        make_face()
    extrude(amount=F2_DEPTH)

    # F1 (on Top) → F3 (join)
    with BuildSketch(Plane.XY):
        with Locations((0, -2.667)):
            Rectangle(F1_W, F1_H)
    extrude(amount=F3_DEPTH)

    # F5 (on offset) → F6 (join)
    with BuildSketch(Plane.XY.offset(8.89)):
        Circle(F5_R)
    extrude(amount=F6_DEPTH)


solid = f2.part
